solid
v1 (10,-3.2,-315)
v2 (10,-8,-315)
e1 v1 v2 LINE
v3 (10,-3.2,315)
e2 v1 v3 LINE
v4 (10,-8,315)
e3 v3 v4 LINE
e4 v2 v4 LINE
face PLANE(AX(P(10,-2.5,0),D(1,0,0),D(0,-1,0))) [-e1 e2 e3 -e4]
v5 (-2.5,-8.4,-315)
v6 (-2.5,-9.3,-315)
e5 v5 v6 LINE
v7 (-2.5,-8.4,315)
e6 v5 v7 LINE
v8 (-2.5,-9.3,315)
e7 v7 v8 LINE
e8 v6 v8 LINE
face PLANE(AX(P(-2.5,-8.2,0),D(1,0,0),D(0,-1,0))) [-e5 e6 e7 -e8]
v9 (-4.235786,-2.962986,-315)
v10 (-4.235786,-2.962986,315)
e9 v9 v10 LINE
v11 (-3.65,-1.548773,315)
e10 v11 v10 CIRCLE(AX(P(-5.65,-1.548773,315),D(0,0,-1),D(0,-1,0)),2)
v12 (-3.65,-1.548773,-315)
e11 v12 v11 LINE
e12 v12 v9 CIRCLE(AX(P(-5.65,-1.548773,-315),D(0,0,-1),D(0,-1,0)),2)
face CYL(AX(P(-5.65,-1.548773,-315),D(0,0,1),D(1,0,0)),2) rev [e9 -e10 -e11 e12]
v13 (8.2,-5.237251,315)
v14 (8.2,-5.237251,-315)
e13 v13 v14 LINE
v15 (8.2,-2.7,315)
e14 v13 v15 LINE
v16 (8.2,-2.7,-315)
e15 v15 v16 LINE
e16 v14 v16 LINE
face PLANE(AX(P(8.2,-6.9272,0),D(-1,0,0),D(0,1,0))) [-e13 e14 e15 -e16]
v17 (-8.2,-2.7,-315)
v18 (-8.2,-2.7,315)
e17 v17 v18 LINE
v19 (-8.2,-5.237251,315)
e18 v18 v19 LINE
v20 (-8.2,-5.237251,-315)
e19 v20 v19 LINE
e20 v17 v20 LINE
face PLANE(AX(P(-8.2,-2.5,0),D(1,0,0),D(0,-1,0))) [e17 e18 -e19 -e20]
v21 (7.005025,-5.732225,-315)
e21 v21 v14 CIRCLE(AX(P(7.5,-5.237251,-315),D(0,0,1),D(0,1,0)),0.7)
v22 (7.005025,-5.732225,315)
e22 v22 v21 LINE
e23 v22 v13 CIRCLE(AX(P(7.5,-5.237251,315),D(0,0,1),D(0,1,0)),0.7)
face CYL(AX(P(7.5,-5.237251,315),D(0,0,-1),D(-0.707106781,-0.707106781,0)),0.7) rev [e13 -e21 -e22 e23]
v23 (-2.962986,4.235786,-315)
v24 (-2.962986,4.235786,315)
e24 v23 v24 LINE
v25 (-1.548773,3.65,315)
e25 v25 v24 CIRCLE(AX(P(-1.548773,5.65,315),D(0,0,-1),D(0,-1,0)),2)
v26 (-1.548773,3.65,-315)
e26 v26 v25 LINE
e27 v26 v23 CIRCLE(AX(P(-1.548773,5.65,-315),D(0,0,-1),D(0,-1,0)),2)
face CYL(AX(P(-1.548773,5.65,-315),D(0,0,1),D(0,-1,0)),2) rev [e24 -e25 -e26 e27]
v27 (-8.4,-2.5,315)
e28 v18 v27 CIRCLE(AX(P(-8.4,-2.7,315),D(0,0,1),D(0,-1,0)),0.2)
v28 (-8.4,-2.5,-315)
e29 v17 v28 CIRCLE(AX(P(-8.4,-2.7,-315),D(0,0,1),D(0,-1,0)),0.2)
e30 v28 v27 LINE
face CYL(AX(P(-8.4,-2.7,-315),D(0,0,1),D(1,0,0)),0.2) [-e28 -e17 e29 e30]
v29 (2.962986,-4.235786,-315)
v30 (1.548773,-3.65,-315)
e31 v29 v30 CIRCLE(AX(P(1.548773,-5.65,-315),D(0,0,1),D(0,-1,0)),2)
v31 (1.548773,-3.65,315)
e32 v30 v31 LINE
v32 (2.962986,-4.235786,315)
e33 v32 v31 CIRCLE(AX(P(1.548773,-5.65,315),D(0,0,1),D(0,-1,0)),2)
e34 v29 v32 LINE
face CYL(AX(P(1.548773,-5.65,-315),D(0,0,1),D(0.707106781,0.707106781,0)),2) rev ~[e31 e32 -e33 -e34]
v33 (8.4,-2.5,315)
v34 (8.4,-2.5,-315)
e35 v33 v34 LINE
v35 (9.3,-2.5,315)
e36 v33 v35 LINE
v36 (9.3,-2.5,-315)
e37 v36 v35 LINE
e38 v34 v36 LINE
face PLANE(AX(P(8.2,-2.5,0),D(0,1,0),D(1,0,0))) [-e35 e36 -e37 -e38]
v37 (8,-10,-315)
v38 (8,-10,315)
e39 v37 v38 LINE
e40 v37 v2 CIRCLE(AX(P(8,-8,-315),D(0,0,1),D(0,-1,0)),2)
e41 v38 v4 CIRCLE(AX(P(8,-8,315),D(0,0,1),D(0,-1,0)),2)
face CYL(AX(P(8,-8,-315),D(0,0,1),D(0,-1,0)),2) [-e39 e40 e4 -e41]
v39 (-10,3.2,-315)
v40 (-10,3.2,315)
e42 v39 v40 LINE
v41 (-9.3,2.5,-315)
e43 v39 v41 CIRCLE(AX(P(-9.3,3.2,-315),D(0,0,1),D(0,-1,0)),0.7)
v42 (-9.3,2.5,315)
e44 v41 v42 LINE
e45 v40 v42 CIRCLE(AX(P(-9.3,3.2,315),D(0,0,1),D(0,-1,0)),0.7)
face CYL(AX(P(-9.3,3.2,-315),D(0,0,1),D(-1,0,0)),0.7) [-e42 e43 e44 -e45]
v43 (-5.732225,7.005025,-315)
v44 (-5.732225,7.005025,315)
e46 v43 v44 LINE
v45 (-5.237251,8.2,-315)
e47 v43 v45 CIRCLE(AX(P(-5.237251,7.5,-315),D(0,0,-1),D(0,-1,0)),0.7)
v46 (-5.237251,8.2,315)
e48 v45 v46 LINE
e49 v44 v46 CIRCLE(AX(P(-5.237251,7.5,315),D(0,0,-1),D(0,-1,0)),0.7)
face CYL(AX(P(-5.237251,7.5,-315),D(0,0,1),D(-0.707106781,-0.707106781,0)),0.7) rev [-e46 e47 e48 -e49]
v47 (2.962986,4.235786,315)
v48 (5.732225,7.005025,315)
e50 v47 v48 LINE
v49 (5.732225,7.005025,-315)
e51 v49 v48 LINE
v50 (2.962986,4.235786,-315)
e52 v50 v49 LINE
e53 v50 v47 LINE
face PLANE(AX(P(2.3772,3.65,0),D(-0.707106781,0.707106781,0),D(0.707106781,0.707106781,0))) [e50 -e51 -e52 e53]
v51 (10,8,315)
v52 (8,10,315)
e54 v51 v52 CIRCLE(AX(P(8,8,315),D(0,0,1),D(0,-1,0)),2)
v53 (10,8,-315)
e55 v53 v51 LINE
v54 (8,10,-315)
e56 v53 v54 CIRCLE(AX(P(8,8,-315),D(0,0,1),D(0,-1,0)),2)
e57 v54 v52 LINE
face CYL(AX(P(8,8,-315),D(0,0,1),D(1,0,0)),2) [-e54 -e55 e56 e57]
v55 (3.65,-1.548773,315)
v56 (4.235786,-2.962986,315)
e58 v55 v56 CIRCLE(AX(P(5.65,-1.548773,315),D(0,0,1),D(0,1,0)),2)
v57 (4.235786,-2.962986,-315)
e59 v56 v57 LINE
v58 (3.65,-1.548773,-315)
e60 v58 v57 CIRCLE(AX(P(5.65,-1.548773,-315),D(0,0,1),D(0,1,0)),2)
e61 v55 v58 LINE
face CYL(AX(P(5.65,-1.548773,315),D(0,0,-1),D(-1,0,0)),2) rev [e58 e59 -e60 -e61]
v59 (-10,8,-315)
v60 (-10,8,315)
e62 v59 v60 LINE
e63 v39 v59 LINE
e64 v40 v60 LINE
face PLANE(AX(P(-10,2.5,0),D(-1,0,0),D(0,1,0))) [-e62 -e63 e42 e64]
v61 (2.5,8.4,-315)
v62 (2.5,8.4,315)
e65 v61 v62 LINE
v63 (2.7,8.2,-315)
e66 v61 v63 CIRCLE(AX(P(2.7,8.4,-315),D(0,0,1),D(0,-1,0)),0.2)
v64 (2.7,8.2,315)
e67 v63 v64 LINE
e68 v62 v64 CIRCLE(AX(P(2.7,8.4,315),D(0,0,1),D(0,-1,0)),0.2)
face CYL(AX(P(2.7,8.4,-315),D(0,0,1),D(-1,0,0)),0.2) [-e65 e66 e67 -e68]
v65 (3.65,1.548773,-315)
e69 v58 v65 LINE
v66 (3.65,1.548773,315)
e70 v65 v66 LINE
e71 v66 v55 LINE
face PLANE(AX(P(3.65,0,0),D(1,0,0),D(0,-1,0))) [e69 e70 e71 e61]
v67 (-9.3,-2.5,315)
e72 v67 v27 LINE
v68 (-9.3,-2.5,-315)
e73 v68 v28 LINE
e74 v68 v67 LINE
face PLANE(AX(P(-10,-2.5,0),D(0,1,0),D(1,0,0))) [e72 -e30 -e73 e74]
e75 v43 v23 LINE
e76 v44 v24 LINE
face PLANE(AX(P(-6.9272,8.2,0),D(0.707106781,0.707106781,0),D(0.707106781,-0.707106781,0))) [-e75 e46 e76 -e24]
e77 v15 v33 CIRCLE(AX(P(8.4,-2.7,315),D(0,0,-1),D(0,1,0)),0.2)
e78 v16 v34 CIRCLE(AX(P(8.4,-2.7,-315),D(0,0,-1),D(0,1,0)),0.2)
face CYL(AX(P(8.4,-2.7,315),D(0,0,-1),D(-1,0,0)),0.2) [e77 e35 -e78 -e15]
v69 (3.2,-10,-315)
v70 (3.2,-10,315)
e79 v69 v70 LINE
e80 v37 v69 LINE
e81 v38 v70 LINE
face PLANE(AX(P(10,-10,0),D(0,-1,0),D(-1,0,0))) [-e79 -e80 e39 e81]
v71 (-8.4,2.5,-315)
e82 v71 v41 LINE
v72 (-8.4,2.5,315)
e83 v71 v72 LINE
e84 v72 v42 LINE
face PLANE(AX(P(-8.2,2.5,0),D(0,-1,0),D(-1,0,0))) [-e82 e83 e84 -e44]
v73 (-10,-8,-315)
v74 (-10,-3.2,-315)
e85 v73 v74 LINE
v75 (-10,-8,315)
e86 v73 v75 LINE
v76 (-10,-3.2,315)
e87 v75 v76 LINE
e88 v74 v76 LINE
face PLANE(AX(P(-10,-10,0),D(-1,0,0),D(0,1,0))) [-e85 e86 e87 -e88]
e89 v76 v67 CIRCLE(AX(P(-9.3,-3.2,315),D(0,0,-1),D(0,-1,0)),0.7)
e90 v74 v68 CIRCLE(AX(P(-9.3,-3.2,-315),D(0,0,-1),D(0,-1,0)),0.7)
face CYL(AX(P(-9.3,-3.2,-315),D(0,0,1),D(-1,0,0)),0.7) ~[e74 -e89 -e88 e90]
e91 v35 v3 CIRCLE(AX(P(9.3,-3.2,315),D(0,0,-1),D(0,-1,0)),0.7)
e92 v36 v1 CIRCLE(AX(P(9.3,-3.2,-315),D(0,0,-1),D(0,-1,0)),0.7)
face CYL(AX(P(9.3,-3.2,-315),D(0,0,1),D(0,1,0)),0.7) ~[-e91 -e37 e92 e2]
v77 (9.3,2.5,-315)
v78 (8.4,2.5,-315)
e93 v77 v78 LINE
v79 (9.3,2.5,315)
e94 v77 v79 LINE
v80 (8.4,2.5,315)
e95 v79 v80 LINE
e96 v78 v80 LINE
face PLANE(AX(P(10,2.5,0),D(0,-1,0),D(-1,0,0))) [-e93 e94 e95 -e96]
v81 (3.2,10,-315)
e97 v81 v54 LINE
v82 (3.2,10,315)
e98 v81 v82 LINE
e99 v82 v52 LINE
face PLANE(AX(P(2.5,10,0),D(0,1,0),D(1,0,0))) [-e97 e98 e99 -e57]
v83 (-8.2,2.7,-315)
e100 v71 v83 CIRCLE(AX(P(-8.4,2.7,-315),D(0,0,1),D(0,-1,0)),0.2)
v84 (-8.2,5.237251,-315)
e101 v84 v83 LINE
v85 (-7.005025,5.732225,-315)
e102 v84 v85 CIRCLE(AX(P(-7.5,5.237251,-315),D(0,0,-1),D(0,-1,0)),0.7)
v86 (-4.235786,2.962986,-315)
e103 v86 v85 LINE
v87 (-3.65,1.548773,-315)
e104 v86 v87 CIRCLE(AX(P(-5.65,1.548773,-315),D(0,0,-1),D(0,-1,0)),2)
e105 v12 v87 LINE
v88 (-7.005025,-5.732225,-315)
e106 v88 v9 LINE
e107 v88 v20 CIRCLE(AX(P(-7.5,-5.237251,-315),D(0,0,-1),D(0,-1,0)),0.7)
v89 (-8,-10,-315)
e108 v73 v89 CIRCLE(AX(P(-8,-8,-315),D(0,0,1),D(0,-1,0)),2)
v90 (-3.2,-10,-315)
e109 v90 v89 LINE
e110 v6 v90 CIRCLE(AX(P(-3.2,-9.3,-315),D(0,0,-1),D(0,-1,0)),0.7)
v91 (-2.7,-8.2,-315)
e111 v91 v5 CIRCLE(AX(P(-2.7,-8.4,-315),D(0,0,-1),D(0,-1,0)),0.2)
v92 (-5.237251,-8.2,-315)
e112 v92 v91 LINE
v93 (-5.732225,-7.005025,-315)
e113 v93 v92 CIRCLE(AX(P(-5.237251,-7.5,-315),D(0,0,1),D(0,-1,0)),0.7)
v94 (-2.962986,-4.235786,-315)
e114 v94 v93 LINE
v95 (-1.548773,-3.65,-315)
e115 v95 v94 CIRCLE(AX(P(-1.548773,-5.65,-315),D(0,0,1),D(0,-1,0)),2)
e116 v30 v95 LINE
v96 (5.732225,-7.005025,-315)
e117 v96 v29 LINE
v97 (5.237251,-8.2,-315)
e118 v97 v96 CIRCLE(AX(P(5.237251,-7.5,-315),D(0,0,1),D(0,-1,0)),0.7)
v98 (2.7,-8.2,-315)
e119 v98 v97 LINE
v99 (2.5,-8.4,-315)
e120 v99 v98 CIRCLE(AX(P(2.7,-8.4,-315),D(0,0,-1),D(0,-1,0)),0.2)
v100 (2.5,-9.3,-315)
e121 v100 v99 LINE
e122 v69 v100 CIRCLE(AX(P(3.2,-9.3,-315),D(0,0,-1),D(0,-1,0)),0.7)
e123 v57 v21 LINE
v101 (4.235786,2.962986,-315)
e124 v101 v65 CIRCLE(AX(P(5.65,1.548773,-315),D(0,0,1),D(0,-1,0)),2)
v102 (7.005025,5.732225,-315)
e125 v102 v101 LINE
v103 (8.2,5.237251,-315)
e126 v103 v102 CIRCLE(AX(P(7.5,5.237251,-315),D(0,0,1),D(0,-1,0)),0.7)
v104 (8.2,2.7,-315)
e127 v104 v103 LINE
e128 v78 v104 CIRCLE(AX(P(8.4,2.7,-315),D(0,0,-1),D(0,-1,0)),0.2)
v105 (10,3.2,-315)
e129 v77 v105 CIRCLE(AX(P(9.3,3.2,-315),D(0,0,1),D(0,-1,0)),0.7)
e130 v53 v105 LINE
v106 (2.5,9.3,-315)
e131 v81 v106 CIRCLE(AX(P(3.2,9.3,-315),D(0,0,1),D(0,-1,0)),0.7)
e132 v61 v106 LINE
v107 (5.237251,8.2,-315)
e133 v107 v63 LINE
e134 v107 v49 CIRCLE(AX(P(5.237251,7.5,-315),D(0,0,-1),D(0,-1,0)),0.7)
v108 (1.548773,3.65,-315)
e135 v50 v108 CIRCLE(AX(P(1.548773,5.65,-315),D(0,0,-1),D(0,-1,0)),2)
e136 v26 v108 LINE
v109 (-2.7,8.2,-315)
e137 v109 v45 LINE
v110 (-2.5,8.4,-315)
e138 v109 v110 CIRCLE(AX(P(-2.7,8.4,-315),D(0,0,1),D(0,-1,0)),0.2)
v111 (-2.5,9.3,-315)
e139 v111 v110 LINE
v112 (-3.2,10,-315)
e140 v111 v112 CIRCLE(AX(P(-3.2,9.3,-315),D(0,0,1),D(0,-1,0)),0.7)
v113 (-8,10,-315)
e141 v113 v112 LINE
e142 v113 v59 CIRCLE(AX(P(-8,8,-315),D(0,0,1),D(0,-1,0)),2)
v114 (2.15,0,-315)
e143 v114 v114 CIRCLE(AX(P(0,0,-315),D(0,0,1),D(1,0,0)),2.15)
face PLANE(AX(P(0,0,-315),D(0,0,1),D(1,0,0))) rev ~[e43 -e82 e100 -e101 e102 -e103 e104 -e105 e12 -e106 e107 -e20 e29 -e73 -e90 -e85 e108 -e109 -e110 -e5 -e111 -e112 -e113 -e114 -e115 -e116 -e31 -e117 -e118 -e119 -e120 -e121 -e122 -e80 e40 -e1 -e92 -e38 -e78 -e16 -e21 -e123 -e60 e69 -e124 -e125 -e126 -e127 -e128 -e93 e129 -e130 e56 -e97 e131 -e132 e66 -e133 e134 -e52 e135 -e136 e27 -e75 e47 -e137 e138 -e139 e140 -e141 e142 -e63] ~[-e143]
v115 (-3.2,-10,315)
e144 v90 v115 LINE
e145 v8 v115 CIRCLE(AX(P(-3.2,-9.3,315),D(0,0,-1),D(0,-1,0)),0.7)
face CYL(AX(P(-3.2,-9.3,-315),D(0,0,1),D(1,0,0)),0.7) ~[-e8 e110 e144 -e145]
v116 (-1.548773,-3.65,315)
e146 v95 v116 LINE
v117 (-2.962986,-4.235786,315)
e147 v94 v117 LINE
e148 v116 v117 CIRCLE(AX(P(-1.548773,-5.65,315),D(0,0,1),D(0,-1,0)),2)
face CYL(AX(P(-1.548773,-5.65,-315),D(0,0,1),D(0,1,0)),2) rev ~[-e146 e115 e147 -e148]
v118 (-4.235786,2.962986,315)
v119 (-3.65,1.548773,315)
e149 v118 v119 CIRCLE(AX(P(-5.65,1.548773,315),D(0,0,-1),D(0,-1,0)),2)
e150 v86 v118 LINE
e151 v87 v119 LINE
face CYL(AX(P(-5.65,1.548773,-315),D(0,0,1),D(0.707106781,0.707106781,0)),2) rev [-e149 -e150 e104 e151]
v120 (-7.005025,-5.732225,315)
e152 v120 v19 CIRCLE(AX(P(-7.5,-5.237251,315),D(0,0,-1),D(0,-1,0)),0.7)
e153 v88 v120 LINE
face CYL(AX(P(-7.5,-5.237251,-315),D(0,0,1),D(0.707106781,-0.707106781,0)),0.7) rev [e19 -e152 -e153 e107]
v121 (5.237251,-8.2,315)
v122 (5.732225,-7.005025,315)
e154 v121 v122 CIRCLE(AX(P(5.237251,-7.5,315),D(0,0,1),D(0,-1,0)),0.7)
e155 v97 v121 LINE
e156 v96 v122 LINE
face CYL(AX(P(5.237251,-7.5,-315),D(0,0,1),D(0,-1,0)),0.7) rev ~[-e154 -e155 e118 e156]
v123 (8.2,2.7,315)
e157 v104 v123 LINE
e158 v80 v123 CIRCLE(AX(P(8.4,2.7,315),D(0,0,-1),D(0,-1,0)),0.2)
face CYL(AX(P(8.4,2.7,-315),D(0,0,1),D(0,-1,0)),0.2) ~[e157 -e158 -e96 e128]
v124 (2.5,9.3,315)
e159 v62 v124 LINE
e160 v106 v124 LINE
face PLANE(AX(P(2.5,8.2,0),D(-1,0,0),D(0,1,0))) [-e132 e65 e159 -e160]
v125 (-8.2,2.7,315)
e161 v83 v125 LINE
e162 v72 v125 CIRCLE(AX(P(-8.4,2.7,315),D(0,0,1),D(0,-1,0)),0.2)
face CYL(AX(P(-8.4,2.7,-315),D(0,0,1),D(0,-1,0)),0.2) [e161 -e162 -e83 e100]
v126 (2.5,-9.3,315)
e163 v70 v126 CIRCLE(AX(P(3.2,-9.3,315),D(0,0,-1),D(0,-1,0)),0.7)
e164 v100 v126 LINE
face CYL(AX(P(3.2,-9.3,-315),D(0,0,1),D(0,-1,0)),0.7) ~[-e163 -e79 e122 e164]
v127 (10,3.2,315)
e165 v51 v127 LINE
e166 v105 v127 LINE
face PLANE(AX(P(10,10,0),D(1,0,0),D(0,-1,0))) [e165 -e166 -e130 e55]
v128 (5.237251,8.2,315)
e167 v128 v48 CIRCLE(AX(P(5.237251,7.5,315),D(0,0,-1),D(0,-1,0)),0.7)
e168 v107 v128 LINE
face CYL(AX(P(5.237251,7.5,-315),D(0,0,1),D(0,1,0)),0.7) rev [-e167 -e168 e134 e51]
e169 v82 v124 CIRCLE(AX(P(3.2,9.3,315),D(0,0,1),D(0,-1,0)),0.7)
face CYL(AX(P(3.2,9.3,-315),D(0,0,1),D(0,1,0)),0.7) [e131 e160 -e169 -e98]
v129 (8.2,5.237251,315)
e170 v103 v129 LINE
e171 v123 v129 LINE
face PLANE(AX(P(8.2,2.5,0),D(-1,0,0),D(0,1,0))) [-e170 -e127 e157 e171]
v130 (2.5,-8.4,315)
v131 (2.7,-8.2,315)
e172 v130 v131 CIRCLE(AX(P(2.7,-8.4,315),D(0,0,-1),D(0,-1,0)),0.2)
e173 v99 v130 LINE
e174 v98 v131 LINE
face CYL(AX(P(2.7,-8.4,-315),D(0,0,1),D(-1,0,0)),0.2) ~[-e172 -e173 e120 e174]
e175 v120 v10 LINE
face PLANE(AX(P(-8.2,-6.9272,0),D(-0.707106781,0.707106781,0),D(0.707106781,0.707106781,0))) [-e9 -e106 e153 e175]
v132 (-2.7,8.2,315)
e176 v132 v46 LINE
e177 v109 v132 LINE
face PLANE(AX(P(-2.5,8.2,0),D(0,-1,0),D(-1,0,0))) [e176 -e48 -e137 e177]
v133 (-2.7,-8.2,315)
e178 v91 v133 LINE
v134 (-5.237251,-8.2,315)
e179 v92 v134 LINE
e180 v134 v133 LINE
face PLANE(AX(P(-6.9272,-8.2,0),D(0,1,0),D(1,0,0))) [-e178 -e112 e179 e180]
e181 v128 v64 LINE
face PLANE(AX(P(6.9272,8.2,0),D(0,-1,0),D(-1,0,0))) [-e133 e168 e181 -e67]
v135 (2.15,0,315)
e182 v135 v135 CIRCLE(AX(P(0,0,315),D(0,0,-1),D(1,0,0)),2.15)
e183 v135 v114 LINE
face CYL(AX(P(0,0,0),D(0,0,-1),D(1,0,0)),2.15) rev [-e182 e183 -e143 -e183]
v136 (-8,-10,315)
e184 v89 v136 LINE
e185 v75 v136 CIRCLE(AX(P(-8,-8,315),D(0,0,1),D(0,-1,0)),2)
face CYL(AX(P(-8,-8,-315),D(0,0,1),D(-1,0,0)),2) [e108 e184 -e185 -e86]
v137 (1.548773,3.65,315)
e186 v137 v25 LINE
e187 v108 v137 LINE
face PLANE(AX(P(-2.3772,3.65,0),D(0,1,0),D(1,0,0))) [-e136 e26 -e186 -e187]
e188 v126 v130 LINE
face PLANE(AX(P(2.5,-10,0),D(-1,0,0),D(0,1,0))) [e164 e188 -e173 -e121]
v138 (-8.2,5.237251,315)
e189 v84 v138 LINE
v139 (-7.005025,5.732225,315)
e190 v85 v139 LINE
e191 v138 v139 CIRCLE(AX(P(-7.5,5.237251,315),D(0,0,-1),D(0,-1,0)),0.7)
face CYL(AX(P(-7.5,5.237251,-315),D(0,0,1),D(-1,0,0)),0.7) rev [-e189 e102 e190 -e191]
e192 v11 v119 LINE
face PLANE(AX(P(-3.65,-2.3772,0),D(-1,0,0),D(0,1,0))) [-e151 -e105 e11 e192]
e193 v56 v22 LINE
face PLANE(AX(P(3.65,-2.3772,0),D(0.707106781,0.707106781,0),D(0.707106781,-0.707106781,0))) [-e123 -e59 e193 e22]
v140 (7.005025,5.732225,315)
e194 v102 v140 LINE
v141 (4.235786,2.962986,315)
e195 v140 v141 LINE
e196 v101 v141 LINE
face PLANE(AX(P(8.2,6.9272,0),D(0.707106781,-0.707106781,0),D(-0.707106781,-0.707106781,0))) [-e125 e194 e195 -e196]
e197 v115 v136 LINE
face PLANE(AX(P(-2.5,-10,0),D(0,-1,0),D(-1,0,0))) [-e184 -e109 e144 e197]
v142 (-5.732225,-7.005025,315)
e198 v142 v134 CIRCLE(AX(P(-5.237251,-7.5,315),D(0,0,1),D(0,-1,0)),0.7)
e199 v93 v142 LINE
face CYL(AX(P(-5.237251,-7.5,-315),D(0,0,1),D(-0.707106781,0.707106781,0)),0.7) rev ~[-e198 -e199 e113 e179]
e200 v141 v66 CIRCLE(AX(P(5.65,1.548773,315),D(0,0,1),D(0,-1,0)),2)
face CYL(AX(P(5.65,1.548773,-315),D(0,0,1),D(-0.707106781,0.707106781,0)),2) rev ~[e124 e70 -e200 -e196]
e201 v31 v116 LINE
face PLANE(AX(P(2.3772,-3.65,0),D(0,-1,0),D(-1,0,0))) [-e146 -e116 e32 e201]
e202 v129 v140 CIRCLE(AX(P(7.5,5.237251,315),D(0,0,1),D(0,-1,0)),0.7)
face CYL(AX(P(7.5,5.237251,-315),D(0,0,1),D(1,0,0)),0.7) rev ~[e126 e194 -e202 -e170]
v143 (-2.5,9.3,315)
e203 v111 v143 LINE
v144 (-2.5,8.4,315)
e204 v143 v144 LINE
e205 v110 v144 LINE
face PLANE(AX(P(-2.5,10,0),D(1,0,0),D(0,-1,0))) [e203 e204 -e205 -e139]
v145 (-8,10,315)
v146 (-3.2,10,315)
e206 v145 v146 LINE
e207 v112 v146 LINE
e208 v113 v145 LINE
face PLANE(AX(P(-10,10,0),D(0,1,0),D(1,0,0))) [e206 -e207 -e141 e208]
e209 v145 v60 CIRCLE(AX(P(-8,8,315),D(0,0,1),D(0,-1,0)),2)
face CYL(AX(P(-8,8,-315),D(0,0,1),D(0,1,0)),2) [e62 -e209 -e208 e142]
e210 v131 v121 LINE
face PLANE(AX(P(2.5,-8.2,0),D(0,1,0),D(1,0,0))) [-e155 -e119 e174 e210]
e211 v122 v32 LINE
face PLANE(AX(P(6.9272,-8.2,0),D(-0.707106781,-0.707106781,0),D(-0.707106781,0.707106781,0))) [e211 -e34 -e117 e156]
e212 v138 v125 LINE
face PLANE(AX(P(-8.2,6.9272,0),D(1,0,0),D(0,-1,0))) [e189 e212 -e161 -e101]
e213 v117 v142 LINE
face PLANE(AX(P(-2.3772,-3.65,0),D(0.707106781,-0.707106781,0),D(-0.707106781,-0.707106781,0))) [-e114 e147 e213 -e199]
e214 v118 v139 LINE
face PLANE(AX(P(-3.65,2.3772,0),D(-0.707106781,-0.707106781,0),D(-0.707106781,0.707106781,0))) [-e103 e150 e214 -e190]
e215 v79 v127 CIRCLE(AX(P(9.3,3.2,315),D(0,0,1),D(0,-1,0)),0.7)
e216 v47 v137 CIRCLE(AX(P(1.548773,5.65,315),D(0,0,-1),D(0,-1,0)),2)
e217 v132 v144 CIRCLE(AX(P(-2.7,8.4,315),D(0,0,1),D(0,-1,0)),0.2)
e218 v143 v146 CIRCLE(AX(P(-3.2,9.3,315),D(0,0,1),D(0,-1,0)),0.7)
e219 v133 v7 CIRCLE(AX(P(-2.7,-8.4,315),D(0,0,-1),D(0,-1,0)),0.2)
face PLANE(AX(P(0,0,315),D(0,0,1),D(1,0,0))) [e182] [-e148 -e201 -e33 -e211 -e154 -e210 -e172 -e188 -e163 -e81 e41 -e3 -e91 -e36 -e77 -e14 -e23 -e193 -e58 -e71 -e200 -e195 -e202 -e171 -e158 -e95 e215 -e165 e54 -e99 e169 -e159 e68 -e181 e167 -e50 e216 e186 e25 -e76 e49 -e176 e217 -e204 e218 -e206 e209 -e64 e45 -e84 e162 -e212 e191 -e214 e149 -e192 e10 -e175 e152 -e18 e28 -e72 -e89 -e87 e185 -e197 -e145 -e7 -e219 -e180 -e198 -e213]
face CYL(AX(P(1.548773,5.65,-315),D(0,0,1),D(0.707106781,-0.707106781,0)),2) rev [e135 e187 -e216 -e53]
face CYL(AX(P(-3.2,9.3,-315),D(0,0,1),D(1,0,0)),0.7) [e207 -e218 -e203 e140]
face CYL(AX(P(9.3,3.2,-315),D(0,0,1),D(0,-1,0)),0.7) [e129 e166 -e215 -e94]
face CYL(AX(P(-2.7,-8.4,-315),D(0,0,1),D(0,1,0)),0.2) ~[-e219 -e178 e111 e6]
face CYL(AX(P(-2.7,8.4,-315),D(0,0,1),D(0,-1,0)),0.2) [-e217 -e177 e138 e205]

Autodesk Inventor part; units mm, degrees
ref_plane "YZ Plane" through (0, 0, 0) normal (1, 0, 0) x (0, 1, 0)
ref_plane "XZ Plane" through (0, 0, 0) normal (0, 1, 0) x (-1, 0, 0)
ref_plane "XY Plane" through (0, 0, 0) normal (0, 0, 1) x (1, 0, 0)
sketch "Sketch1" plane through (0, 0, 0) normal (0, 0, 1) x (1, 0, 0)
  circle A0 centre (0, 0) radius 2.15
  line L0 (-10, 10) -> (-2.5, 10)
  line L1 (-2.5, 10) -> (-2.5, 8.2)
  line L2 (-2.5, 8.2) -> (-6.9272, 8.2)
  line L3 (-6.9272, 8.2) -> (-2.3772, 3.65)
  line L4 (-2.3772, 3.65) -> (2.3772, 3.65)
  line L5 (2.3772, 3.65) -> (6.9272, 8.2)
  line L6 (6.9272, 8.2) -> (2.5, 8.2)
  line L7 (2.5, 8.2) -> (2.5, 10)
  line L8 (2.5, 10) -> (10, 10)
  line L9 (10, 10) -> (10, 2.5)
  line L10 (10, 2.5) -> (8.2, 2.5)
  line L11 (8.2, 2.5) -> (8.2, 6.9272)
  line L12 (8.2, 6.9272) -> (3.65, 2.3772)
  line L13 (3.65, 2.3772) -> (3.65, -2.3772)
  line L14 (3.65, -2.3772) -> (8.2, -6.9272)
  line L15 (8.2, -6.9272) -> (8.2, -2.5)
  line L16 (8.2, -2.5) -> (10, -2.5)
  line L17 (10, -2.5) -> (10, -10)
  line L18 (10, -10) -> (2.5, -10)
  line L19 (2.5, -10) -> (2.5, -8.2)
  line L20 (2.5, -8.2) -> (6.9272, -8.2)
  line L21 (6.9272, -8.2) -> (2.3772, -3.65)
  line L22 (2.3772, -3.65) -> (-2.3772, -3.65)
  line L23 (-2.3772, -3.65) -> (-6.9272, -8.2)
  line L24 (-6.9272, -8.2) -> (-2.5, -8.2)
  line L25 (-2.5, -8.2) -> (-2.5, -10)
  line L26 (-2.5, -10) -> (-10, -10)
  line L27 (-10, -10) -> (-10, -2.5)
  line L28 (-10, -2.5) -> (-8.2, -2.5)
  line L29 (-8.2, -2.5) -> (-8.2, -6.9272)
  line L30 (-8.2, -6.9272) -> (-3.65, -2.3772)
  line L31 (-3.65, -2.3772) -> (-3.65, 2.3772)
  line L32 (-3.65, 2.3772) -> (-8.2, 6.9272)
  line L33 (-8.2, 6.9272) -> (-8.2, 2.5)
  line L34 (-8.2, 2.5) -> (-10, 2.5)
  line L35 (-10, 2.5) -> (-10, 10)
  line L36 (0, 0) -> (-30.8654, 30.8654)
  line L37 (0, 0) -> (30.8654, 30.8654)
  line L38 (0, 0) -> (42.5392, 0)
  line L39 (0, 0) -> (0, 44.3419)
  dimension "d0" = 45
  dimension "d1" = 90
  dimension "Breite" = 20
  dimension "Tiefe_Schiene" = 6.35
  dimension "d2" = 1.8
  dimension "Durchmesser_Loch" = 4.3
  dimension "Wandstaerke" = 1.8
  dimension "d3" = 1.8
  dimension "Breite_Schiene" = 5
  dimension "d4" = 5
extrude "Extrusion1" add sketch "Sketch1" along normal mid plane 630 contours L38 L13 L14 L15 L16 L17 L18 L19 L20 L21 L22 L23 L24 L25 L26 L27 L28 L29 L30 L31 L32 L33 L34 L35 L36 A0 | A0 L37 L9 L10 L11 L12 L13 L38 | A0 L39 L4 L5 L6 L7 L8 L37 | L36 L0 L1 L2 L3 L4 L39 A0
fillet "Fillet1" radius 2 4 edges at (10, 10, 0) (-10, 10, 0) (10, -10, 0) (-10, -10, 0)
fillet "Fillet2" radius 0.2 8 edges at (-2.5, 8.2, 0) (2.5, 8.2, 0) (8.2, 2.5, 0) (8.2, -2.5, 0) (-2.5, -8.2, 0) (-8.2, -2.5, 0) (-8.2, 2.5, 0) (2.5, -8.2, 0)
fillet "Fillet3" radius 0.7 16 edges at (-2.5, 10, 0) (2.5, 10, 0) (10, 2.5, 0) (10, -2.5, 0) (2.5, -10, 0) (-2.5, -10, 0) (-10, -2.5, 0) (-10, 2.5, 0) (-6.9272, -8.2, 0) (-8.2, -6.9272, 0) (6.9272, -8.2, 0) (8.2, -6.9272, 0) (8.2, 6.9272, 0) (6.9272, 8.2, 0) (-6.9272, 8.2, 0) (-8.2, 6.9272, 0)
fillet "Fillet4" radius 2 8 edges at (-3.65, 2.3772, 0) (-2.3772, 3.65, 0) (2.3772, 3.65, 0) (3.65, 2.3772, 0) (3.65, -2.3772, 0) (2.3772, -3.65, 0) (-2.3772, -3.65, 0) (-3.65, -2.3772, 0)
equation "\"d2\" = Wandstaerke"
equation "\"d3\" = Wandstaerke"
equation "\"d4\" = Breite_Schiene"
properties part number "ITEM_20x20_630mm"
